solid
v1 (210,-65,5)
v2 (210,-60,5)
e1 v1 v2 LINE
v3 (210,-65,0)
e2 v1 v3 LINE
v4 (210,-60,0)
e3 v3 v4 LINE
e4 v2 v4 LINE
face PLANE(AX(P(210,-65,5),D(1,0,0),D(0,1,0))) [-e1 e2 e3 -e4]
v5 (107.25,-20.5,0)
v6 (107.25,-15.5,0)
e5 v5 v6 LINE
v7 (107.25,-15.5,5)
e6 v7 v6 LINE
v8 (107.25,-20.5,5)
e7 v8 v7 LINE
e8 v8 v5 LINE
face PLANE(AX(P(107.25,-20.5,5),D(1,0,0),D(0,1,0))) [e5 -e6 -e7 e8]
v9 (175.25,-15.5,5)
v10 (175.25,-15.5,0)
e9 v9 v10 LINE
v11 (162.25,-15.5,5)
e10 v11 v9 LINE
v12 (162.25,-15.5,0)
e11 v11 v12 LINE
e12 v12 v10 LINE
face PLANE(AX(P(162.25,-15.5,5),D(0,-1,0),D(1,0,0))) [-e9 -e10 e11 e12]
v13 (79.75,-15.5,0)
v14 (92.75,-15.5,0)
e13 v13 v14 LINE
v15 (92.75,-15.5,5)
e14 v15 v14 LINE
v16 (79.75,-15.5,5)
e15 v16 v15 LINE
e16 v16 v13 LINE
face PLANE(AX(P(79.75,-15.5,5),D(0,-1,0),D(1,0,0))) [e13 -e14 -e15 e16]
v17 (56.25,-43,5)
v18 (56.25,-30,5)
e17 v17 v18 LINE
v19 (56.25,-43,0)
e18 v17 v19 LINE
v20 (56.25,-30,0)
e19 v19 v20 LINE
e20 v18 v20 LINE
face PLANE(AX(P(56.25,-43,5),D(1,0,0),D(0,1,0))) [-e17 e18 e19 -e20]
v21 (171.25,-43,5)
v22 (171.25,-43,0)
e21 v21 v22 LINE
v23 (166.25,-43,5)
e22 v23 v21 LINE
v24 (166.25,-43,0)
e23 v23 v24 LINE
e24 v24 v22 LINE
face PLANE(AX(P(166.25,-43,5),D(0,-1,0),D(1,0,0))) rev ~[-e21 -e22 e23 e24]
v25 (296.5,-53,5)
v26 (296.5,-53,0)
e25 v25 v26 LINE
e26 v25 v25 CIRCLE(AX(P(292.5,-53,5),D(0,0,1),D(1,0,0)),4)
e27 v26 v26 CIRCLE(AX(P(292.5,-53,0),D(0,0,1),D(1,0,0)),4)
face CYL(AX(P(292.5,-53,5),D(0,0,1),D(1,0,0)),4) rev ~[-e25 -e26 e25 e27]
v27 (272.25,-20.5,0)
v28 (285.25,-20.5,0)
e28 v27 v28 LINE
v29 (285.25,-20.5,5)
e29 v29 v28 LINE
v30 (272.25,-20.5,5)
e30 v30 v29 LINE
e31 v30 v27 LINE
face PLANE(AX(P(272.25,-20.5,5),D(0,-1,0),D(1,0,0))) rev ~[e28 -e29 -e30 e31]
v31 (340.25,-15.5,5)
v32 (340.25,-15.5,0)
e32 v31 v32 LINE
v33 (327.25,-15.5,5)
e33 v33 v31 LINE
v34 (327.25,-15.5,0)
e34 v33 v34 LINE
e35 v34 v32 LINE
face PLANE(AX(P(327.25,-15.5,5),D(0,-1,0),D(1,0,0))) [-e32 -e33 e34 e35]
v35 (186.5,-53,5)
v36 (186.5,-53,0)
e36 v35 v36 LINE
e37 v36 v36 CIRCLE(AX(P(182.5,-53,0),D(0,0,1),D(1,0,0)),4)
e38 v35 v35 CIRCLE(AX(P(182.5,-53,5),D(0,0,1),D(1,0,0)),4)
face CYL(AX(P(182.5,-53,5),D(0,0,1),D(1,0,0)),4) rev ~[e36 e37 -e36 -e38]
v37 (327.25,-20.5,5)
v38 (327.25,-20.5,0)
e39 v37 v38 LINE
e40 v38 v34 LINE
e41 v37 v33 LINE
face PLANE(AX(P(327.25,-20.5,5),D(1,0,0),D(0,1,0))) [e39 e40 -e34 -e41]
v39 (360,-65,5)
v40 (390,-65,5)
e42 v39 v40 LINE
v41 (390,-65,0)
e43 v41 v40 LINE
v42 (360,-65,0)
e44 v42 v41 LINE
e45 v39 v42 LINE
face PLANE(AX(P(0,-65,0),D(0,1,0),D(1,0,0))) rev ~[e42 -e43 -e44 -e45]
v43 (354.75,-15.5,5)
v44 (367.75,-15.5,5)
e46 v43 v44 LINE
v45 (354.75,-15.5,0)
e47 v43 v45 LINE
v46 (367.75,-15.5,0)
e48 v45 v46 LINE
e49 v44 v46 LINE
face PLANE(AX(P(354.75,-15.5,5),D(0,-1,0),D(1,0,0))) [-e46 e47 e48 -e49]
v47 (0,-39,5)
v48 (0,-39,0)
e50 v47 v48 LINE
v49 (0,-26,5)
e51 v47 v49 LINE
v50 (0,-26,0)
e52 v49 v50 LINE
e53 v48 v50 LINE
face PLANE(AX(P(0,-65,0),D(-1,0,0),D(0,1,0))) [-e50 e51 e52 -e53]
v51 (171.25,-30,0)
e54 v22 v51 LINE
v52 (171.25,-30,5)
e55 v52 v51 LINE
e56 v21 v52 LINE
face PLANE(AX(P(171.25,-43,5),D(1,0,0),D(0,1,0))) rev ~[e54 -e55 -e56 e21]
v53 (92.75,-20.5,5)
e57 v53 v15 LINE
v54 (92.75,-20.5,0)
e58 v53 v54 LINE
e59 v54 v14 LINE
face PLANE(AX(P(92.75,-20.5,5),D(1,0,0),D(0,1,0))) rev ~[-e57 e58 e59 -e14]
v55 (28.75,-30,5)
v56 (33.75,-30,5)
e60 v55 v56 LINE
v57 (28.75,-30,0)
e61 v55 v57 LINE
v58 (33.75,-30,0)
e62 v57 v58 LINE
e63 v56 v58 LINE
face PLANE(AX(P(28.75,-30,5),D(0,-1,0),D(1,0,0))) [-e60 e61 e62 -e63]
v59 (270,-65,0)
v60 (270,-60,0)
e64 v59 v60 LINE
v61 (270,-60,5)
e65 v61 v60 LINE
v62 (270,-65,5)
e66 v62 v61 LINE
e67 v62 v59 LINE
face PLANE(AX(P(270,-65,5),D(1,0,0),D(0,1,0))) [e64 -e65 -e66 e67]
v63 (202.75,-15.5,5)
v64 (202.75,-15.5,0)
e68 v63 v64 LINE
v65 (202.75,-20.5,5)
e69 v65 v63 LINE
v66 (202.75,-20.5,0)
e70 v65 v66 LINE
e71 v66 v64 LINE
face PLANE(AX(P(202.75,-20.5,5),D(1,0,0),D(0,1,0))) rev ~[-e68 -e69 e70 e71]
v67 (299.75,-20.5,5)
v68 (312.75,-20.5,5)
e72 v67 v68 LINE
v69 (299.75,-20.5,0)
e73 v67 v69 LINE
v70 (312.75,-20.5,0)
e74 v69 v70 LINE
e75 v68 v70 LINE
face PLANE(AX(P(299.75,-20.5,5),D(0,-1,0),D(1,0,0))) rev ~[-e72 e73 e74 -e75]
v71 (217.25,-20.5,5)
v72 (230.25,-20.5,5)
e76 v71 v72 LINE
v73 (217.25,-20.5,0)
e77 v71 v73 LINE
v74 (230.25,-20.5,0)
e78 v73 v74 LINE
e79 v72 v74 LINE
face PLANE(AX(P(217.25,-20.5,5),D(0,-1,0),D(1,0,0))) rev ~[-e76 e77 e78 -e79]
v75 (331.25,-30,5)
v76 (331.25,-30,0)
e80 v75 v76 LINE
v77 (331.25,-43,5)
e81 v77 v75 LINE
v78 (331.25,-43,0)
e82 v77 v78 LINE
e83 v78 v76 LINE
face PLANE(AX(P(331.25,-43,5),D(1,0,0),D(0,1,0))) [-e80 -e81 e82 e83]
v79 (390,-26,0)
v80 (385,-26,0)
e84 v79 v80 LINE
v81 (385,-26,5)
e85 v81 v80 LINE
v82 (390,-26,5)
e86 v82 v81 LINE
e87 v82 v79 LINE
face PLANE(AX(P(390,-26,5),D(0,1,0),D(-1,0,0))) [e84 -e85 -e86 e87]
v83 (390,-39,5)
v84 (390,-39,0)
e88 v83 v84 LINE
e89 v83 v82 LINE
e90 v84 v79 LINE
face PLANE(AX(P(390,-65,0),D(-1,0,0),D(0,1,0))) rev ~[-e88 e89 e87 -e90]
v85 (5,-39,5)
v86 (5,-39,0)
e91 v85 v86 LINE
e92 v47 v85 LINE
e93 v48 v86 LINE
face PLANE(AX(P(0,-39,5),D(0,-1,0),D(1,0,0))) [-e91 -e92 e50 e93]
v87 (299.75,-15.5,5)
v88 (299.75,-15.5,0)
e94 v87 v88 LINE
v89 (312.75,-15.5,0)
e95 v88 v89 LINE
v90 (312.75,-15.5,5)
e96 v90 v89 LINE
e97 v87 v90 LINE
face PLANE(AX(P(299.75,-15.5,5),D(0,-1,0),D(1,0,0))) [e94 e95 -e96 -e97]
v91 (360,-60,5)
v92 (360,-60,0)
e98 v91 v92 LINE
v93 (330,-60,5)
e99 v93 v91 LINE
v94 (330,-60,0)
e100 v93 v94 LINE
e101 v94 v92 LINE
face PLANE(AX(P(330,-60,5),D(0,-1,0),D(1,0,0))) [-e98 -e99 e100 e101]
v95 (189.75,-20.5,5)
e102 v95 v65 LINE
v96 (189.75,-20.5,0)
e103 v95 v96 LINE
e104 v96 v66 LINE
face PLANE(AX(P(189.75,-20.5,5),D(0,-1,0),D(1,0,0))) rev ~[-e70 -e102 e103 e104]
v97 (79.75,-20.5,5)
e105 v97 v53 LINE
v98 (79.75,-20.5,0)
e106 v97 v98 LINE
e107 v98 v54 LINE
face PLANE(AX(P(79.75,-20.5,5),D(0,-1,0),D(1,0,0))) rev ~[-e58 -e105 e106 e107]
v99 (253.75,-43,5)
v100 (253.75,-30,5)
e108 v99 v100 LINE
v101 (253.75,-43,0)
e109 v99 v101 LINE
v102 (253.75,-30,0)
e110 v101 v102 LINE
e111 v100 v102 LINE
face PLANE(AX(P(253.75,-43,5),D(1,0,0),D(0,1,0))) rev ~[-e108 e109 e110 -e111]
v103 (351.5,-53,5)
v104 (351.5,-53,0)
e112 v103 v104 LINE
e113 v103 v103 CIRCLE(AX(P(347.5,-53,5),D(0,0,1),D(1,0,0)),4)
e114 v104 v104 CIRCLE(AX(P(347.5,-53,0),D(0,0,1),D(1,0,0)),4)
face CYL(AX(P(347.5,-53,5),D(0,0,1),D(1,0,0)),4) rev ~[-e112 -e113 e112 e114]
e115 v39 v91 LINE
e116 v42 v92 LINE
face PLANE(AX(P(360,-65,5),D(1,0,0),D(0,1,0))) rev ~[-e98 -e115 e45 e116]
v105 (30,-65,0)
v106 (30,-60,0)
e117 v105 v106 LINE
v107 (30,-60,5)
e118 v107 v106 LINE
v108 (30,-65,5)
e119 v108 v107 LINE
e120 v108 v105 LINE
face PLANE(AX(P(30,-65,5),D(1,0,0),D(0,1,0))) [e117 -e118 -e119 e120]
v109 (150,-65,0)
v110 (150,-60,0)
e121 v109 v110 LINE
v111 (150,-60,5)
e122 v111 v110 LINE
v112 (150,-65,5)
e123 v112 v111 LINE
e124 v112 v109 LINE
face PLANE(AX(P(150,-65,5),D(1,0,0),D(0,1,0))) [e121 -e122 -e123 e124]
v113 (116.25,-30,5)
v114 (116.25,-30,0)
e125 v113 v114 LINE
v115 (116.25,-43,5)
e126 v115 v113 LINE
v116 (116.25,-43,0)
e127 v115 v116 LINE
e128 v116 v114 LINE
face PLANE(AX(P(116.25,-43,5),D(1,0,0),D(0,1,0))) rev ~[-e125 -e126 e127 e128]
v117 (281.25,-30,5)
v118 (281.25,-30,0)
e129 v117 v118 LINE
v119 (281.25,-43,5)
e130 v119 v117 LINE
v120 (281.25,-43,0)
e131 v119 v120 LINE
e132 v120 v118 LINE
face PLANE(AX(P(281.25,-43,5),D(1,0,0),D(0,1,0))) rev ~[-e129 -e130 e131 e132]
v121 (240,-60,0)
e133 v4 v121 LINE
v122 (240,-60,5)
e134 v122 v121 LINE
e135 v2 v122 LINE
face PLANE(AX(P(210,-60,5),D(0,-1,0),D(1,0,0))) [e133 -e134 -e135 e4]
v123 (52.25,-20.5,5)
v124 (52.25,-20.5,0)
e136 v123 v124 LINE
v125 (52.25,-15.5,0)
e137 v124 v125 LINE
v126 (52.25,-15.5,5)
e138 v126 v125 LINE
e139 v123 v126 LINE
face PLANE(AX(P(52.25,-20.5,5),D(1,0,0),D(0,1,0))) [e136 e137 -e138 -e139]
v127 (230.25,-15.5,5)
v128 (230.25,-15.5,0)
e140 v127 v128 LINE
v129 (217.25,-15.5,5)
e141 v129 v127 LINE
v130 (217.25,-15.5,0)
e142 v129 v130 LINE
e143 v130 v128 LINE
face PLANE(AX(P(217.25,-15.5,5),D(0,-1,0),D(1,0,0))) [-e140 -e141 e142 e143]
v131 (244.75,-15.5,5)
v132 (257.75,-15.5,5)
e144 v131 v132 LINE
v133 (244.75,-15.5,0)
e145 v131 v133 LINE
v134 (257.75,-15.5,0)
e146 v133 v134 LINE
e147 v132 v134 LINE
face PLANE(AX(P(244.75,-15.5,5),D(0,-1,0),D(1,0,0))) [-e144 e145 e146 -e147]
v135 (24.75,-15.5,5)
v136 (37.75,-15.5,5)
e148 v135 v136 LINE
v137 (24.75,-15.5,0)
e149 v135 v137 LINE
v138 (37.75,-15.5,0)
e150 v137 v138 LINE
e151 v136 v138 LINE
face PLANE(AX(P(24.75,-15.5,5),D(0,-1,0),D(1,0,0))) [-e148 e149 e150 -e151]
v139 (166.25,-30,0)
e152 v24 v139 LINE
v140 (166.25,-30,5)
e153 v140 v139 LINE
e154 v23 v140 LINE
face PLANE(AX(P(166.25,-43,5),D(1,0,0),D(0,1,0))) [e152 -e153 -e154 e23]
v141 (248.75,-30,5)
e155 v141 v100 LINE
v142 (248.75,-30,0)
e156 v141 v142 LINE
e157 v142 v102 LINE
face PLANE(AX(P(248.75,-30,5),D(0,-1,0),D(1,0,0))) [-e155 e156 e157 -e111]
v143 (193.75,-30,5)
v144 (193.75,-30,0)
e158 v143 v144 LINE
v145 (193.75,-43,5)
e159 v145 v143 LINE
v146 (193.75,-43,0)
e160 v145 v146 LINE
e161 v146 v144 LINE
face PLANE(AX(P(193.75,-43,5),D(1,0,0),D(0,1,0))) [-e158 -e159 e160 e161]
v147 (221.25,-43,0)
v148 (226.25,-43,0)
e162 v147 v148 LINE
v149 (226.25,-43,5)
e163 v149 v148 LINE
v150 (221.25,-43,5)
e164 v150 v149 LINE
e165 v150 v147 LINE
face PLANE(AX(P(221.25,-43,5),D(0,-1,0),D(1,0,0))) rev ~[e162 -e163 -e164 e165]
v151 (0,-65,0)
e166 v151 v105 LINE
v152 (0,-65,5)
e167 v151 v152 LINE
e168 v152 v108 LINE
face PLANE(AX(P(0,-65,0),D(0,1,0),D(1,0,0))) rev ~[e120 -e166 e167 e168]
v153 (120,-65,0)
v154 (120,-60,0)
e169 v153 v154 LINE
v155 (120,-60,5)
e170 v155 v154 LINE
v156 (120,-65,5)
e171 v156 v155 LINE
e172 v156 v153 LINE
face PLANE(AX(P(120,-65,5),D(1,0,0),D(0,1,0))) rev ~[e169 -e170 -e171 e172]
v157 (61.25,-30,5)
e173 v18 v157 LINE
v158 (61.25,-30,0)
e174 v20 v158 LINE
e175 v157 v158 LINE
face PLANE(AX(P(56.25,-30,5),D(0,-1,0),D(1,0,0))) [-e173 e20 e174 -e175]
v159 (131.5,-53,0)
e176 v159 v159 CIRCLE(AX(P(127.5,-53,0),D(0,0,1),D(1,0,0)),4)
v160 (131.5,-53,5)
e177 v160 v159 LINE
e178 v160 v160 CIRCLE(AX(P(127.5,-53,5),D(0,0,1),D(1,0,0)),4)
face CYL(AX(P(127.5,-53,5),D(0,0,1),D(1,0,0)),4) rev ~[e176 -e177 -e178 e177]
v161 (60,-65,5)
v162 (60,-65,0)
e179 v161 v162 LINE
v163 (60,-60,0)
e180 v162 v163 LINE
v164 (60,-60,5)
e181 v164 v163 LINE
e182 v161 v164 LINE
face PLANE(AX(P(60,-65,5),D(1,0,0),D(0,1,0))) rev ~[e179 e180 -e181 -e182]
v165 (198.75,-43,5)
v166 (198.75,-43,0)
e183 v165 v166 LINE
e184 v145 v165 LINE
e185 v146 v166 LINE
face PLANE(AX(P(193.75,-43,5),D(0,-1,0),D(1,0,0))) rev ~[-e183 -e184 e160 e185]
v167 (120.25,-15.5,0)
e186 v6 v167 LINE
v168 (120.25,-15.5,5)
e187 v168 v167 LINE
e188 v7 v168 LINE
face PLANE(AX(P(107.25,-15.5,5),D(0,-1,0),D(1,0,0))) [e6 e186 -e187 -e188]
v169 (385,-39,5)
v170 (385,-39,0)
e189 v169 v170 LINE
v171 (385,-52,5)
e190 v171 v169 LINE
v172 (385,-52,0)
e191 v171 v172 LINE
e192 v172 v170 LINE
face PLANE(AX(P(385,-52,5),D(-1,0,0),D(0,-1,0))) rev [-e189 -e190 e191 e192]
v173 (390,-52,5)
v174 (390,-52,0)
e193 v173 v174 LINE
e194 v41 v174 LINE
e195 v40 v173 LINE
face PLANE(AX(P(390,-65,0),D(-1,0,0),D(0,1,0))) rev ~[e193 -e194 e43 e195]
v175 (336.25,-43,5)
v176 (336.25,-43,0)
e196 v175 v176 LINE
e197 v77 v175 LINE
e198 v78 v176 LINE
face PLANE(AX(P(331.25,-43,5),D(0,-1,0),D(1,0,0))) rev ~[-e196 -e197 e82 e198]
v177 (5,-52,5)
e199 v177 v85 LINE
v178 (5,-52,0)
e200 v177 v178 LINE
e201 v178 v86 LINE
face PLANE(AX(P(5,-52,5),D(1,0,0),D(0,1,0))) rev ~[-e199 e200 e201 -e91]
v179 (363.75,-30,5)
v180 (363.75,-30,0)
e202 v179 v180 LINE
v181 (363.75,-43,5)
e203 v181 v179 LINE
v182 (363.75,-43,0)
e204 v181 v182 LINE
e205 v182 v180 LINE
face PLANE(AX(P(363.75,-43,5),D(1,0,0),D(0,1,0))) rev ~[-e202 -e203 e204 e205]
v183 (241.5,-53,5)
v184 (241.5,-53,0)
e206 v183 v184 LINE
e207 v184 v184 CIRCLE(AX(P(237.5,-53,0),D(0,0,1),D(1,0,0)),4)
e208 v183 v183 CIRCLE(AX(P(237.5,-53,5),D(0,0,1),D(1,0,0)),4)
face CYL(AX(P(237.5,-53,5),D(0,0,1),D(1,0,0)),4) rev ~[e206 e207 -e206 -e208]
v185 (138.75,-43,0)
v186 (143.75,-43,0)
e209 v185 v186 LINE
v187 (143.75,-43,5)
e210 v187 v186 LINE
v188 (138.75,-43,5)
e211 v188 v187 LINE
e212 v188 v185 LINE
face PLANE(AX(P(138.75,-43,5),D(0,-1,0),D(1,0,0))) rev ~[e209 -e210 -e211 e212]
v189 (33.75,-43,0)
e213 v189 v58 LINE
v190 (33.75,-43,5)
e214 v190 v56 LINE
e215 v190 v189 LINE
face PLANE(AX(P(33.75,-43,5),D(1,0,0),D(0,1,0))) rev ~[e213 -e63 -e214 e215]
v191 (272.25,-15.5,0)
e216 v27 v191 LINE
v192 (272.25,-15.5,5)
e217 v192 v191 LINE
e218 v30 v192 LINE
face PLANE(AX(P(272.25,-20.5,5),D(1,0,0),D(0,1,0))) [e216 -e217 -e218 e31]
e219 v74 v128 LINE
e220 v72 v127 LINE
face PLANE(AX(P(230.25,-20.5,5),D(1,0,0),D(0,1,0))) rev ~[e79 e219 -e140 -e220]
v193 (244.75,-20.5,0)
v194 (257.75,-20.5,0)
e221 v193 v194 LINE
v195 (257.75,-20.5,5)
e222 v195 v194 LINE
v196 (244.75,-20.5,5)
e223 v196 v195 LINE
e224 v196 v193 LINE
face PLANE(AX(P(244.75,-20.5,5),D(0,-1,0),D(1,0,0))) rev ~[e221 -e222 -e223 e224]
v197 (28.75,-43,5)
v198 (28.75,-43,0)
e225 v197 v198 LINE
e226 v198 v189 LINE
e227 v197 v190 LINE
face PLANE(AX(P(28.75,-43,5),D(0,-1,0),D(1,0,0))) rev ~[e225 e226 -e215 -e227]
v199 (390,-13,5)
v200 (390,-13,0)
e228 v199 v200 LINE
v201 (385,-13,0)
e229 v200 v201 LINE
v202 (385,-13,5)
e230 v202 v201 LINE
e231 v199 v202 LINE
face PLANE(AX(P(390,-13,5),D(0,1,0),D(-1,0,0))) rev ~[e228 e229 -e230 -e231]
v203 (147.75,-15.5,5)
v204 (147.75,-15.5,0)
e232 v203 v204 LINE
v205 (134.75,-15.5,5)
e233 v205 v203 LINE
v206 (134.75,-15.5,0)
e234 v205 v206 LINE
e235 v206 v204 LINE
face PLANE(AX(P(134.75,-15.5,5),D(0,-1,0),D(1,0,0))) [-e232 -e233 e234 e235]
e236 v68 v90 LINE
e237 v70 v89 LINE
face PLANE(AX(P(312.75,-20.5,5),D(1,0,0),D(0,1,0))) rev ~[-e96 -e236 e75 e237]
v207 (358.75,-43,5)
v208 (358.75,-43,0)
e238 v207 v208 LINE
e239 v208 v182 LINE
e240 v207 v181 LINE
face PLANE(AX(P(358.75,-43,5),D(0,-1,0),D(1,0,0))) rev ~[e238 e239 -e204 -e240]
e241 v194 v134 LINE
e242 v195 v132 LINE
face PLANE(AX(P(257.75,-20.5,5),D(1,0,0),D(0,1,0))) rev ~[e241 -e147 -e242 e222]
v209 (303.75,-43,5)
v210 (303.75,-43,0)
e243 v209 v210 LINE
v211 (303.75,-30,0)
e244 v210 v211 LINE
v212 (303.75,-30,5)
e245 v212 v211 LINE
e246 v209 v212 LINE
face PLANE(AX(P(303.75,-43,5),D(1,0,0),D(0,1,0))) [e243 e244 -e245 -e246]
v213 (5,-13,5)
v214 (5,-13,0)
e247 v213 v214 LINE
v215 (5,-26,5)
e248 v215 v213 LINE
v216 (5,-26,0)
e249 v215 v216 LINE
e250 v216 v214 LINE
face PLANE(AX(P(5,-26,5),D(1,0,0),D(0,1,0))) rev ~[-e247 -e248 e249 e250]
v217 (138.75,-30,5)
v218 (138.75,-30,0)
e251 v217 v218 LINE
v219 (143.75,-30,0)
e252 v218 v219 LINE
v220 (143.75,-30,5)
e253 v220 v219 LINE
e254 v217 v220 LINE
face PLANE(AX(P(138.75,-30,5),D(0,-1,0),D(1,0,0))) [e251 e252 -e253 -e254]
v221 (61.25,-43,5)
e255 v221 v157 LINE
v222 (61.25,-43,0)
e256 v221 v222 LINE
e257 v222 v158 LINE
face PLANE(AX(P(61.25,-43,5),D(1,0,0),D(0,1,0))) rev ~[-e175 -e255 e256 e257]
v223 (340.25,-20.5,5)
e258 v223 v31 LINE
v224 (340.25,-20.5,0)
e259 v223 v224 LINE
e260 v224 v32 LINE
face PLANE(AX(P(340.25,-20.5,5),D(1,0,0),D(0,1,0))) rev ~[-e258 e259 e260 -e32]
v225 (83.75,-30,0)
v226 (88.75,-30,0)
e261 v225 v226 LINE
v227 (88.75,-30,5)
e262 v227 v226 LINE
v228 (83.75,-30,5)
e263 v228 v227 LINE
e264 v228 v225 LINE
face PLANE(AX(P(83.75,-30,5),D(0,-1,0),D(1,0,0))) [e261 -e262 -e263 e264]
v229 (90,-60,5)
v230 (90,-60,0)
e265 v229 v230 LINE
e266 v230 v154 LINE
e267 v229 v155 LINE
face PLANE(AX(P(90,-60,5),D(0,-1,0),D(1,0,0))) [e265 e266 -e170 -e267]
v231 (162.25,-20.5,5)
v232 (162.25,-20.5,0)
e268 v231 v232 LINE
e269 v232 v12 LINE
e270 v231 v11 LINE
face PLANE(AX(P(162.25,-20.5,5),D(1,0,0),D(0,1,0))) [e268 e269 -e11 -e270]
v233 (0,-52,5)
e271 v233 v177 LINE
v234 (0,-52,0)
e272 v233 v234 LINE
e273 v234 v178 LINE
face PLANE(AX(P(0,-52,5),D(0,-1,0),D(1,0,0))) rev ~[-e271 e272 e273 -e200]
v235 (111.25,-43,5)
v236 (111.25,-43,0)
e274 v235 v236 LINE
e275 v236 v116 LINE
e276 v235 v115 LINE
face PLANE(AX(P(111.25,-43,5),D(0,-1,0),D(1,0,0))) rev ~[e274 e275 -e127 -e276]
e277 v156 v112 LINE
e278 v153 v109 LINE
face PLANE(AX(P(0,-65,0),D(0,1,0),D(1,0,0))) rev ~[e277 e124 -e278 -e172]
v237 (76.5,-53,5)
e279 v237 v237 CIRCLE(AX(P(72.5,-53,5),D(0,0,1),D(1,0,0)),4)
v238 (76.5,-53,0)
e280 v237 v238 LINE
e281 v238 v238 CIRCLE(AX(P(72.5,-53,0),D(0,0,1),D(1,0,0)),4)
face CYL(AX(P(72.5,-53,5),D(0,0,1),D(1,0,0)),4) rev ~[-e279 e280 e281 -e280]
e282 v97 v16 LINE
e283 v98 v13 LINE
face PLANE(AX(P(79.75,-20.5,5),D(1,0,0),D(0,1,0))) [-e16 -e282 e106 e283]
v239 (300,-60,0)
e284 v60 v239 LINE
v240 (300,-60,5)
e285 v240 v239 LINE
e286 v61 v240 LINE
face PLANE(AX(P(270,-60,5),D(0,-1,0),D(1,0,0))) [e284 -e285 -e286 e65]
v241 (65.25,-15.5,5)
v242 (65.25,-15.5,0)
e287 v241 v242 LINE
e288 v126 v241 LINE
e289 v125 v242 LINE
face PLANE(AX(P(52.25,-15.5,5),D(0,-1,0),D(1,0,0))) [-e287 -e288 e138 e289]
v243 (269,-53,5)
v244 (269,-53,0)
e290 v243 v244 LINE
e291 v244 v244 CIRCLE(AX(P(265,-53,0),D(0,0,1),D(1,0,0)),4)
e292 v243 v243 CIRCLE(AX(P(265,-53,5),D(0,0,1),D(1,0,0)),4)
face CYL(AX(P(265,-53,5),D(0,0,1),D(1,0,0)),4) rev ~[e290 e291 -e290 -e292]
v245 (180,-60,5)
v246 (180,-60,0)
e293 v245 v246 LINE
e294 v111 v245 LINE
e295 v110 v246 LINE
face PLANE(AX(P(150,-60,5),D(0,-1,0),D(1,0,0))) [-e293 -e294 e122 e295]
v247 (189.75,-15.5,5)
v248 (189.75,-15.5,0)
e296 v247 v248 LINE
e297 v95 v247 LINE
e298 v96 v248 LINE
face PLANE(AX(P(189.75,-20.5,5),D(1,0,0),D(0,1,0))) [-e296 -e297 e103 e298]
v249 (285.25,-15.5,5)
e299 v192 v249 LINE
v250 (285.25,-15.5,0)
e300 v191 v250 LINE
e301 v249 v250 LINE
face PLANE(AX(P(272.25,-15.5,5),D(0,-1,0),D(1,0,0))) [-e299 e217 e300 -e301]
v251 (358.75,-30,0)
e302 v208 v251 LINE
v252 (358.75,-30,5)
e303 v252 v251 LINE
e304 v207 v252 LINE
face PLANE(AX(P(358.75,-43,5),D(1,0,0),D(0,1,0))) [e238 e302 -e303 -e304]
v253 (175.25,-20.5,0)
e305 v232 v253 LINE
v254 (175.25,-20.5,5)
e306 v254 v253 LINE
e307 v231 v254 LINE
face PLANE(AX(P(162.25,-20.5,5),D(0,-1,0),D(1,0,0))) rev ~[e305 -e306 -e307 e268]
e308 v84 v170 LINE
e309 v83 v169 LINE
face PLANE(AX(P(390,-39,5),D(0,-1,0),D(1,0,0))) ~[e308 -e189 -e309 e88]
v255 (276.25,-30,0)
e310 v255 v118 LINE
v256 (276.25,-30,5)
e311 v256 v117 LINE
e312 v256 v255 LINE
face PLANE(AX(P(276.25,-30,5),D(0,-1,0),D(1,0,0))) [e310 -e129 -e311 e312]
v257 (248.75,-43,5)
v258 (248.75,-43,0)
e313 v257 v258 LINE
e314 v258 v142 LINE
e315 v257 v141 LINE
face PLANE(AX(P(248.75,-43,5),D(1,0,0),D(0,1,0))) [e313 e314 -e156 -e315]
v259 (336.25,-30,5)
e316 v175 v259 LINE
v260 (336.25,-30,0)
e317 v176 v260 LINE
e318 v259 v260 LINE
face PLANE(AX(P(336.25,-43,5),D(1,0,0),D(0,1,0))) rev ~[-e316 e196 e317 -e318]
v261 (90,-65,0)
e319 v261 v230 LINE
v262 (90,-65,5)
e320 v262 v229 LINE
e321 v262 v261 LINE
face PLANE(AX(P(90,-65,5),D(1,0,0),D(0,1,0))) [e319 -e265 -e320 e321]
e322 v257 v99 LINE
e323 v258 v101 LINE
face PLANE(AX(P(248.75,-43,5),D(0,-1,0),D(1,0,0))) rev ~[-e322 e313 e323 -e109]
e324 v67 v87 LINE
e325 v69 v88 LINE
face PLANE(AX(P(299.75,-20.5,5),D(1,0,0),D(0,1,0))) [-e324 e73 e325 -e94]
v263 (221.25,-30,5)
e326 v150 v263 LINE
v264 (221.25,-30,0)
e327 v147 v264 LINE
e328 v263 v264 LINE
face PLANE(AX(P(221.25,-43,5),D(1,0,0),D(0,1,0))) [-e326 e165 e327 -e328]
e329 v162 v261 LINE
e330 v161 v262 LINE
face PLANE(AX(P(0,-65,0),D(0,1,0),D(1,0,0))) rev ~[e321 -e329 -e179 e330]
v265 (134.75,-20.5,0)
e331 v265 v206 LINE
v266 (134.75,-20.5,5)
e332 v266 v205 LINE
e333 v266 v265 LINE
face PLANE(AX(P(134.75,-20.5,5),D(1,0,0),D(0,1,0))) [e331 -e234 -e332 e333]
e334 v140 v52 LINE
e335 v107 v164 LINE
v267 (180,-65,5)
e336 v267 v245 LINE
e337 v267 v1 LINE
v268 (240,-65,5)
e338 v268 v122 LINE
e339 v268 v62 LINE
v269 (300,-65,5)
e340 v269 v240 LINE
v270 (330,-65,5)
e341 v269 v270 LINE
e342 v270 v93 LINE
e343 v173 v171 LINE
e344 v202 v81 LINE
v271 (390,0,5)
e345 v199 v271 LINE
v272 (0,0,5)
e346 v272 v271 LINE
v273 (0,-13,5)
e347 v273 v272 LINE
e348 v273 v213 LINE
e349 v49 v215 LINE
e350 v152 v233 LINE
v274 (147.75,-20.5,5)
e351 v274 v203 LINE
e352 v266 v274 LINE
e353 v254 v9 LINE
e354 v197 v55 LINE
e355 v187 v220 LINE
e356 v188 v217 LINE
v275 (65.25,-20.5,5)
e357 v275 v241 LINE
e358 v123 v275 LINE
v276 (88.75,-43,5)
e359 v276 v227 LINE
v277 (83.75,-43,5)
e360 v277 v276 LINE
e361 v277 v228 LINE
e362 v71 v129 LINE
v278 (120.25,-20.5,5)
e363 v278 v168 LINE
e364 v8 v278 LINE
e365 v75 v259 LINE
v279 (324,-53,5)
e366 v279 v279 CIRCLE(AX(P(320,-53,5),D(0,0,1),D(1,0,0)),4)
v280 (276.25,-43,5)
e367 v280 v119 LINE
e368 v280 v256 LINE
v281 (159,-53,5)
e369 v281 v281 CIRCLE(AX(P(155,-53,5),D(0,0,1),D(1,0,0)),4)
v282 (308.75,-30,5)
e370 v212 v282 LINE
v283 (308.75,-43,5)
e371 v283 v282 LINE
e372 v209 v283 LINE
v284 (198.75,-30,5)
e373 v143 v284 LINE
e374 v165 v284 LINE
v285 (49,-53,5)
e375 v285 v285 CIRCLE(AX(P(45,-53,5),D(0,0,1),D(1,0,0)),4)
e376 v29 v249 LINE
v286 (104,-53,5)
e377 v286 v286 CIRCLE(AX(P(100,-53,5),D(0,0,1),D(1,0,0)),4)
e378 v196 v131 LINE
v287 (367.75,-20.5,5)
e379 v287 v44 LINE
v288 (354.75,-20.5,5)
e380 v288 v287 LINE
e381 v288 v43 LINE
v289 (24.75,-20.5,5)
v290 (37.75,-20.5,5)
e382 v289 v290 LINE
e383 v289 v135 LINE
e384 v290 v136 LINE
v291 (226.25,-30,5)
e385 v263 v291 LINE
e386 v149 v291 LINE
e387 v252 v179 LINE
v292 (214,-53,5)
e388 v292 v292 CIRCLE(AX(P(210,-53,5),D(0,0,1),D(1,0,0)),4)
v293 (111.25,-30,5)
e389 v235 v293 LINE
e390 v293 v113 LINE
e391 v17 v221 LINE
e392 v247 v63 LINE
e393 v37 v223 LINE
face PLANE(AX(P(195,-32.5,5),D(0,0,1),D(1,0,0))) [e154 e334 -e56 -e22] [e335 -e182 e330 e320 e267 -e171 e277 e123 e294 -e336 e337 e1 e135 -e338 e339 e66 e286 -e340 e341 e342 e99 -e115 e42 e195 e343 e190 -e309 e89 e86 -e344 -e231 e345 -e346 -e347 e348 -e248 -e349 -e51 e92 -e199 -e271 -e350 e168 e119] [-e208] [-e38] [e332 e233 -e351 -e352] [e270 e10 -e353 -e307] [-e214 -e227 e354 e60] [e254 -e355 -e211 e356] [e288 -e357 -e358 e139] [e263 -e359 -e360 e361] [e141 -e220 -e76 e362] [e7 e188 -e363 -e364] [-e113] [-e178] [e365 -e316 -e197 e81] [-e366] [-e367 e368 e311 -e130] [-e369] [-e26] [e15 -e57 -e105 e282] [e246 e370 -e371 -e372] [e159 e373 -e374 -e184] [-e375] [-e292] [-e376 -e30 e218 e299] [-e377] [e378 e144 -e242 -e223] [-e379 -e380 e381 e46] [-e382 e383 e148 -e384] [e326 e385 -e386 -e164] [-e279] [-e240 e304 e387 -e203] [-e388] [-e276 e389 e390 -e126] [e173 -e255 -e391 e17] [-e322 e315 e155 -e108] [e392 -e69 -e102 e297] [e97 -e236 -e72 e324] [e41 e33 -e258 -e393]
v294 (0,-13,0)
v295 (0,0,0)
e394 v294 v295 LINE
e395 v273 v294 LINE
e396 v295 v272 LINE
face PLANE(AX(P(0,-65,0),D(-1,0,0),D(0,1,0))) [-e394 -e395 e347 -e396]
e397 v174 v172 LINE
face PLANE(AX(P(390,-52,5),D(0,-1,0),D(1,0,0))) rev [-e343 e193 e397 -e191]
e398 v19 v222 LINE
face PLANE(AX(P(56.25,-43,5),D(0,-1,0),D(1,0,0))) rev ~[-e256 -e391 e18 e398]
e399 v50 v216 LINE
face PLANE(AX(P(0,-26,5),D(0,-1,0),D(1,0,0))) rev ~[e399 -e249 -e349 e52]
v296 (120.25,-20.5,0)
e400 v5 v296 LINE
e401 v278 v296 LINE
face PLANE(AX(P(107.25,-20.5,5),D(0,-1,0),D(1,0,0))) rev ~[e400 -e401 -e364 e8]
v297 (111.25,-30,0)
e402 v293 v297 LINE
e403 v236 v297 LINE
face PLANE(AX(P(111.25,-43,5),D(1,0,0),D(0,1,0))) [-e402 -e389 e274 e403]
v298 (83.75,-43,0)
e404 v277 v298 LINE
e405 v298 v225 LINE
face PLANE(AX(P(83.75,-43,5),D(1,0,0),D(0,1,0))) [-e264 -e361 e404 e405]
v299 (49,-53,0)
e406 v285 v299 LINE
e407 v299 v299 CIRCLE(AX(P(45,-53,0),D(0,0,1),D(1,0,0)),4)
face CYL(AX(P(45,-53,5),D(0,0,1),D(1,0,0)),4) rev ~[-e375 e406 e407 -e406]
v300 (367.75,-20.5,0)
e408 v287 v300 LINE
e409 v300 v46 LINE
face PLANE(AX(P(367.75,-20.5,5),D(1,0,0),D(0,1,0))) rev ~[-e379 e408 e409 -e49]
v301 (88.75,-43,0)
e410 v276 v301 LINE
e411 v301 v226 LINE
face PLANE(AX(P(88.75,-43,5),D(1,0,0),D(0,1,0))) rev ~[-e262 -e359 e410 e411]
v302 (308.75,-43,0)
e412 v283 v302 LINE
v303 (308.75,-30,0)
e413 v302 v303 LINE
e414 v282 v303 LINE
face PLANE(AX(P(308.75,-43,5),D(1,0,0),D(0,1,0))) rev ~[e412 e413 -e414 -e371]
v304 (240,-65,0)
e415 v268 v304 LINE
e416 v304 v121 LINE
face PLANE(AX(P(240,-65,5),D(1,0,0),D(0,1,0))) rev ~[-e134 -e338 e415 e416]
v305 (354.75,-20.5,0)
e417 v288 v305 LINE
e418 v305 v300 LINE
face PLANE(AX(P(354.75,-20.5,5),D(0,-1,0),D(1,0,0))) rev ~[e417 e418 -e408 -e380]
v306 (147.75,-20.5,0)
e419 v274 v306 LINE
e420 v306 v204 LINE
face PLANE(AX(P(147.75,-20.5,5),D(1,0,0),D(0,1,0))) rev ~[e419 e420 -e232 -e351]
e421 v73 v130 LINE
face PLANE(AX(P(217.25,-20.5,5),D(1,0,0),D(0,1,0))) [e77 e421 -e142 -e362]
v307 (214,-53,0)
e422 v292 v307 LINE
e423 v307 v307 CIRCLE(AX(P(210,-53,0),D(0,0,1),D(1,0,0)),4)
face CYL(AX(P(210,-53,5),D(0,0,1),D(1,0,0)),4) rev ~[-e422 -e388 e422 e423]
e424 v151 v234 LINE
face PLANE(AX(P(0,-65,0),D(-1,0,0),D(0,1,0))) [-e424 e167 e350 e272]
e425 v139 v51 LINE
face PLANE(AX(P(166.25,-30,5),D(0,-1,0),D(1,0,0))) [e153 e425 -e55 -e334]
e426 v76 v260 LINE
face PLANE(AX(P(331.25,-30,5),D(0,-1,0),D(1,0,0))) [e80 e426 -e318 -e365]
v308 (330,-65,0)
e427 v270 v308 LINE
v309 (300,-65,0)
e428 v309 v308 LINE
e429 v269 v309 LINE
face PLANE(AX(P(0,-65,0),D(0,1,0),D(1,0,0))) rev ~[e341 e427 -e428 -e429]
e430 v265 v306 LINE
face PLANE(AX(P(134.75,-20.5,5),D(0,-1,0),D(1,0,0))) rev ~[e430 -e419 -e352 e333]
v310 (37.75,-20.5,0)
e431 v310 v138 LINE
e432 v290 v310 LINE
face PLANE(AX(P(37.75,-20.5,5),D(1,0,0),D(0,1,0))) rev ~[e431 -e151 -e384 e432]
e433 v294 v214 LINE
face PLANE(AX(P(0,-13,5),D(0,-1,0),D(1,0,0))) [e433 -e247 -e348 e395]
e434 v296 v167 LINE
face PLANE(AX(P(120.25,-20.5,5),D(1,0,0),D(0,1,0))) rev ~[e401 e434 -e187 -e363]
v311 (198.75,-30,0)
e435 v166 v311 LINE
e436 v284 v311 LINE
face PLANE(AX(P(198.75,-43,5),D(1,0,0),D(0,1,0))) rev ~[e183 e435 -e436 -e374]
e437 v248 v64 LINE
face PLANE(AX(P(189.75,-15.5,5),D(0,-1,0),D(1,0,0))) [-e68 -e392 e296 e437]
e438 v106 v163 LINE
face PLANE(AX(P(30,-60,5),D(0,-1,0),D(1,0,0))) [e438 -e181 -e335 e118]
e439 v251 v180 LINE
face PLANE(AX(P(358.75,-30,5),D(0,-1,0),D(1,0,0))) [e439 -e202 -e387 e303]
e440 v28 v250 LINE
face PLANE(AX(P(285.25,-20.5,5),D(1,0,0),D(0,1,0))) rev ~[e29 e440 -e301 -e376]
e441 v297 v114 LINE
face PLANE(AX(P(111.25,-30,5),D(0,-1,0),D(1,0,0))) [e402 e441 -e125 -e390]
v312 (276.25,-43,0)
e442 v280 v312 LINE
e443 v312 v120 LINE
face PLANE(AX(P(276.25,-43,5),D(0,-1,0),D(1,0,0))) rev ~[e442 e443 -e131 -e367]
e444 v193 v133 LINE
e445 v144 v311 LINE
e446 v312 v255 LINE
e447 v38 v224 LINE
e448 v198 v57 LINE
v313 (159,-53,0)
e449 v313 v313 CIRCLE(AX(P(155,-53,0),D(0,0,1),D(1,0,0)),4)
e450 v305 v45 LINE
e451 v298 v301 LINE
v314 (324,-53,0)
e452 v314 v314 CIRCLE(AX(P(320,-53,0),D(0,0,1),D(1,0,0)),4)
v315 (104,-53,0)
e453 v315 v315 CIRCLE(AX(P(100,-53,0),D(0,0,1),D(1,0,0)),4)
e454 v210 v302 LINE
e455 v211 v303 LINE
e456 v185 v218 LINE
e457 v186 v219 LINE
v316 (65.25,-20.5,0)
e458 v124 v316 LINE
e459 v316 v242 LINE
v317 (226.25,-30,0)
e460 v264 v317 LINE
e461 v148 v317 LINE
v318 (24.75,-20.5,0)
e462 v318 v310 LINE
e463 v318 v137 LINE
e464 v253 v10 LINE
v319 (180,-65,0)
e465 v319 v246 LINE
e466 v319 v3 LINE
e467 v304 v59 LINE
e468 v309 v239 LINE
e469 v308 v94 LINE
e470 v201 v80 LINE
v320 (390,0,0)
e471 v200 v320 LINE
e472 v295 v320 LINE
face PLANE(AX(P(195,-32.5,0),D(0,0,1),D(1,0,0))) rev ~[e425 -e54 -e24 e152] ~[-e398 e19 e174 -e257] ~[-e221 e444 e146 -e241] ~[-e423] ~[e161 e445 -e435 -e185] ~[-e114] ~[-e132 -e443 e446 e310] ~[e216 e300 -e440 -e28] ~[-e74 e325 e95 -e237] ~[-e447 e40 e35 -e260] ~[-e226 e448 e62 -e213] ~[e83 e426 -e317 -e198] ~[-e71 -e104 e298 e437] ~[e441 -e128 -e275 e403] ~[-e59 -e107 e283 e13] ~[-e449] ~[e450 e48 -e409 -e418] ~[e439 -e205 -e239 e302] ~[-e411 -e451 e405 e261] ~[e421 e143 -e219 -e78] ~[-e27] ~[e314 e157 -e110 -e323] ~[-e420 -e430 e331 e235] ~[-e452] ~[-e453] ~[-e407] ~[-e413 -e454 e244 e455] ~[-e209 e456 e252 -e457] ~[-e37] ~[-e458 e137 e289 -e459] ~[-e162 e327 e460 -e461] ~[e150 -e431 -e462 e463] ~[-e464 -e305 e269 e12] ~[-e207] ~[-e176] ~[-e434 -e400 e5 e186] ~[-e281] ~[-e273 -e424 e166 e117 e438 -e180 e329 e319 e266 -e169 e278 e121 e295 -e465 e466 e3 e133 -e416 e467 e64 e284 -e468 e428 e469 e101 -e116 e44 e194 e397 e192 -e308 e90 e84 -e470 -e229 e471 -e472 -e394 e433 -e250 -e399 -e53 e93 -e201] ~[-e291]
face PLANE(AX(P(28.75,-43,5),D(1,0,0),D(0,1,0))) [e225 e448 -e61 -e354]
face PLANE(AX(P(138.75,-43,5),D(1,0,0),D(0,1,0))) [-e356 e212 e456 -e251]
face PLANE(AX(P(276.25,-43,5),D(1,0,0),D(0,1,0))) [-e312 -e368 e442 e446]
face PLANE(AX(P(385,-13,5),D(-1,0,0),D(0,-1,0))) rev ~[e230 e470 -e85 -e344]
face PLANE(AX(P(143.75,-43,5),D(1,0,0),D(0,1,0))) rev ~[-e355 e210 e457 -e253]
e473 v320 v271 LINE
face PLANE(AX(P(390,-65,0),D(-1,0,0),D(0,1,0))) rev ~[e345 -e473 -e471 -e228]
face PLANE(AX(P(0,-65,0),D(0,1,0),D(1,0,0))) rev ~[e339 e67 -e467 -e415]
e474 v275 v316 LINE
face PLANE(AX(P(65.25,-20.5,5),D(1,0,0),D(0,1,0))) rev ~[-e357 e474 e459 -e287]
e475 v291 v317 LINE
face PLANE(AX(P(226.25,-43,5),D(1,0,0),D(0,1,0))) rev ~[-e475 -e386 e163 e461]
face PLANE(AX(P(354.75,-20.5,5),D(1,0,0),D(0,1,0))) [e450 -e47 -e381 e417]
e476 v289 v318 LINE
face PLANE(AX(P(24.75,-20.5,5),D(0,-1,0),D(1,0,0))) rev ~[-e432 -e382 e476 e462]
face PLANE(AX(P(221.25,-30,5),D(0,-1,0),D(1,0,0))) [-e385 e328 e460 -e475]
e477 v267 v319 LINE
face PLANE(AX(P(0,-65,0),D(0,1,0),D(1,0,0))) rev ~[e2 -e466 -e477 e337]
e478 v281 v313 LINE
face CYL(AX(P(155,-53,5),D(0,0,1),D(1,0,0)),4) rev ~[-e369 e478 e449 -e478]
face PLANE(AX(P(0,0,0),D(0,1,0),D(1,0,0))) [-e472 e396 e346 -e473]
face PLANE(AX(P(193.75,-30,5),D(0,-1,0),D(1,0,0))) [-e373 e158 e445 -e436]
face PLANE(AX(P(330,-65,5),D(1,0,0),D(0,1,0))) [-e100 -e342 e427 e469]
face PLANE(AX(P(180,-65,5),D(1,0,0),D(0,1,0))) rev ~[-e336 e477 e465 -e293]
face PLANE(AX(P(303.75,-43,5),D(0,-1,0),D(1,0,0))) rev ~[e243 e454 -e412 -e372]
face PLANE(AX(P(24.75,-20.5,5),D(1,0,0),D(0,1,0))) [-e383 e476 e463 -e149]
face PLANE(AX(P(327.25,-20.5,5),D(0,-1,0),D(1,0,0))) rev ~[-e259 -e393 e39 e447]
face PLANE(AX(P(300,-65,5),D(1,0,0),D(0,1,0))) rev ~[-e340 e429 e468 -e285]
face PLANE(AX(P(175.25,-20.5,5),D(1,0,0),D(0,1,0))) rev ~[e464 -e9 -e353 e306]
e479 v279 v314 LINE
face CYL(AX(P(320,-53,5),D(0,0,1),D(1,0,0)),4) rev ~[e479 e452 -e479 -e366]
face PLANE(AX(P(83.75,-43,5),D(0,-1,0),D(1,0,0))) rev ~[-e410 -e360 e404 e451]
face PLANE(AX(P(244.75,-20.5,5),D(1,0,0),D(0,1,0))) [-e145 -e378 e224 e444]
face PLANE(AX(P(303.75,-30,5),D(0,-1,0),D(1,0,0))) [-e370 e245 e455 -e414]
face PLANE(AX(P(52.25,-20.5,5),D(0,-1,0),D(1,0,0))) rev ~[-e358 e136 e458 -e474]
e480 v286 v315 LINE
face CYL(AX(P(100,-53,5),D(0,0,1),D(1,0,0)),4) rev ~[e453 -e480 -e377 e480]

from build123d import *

# Parameters (mm, degrees)
ESQUISSE1_W                    = 390
ESQUISSE1_H                    = 65
BOSS_EXTRU_1_DEPTH             = 5
ESQUISSE2_W                    = 30
ESQUISSE2_H                    = 5
ENL_V_MAT_EXTRU_1_DEPTH        = 5
R_P_TITION_LIN_AIRE1_COUNT     = 6
R_P_TITION_LIN_AIRE1_PITCH     = 60
ESQUISSE3_W                    = 5
ESQUISSE3_H                    = 13
ENL_V_MAT_EXTRU_2_DEPTH        = 5
R_P_TITION_LIN_AIRE2_COUNT     = 2
R_P_TITION_LIN_AIRE2_PITCH     = 26
SYM_TRIE1_COPY_1_SKETCH_W      = 5
SYM_TRIE1_COPY_1_SKETCH_H      = 13
SYM_TRIE1_COPY_1_DEPTH         = 5
ESQUISSE4_R                    = 4
ENL_V_MAT_EXTRU_3_DEPTH        = 5
R_P_TITION_LIN_AIRE3_COUNT     = 10
R_P_TITION_LIN_AIRE3_PITCH     = 27.5
R_P_TITION_LIN_AIRE3_COL_COUNT = 3
R_P_TITION_LIN_AIRE3_COL_PITCH = 27.5
ESQUISSE5_W                    = 5
ESQUISSE5_H                    = 13
ESQUISSE5_W_2                  = 13
ESQUISSE5_H_2                  = 5
ENL_V_MAT_EXTRU_4_DEPTH        = 5
R_P_TITION_LIN_AIRE4_COUNT     = 3
R_P_TITION_LIN_AIRE4_PITCH     = 27.5
R_P_TITION_LIN_AIRE4_COL_COUNT = 11
R_P_TITION_LIN_AIRE4_COL_PITCH = 27.5


with BuildPart() as part:
    # Esquisse1 → Boss.-Extru.1 (new body)
    with BuildSketch(Plane.XY):
        with Locations((195, -32.5)):
            Rectangle(ESQUISSE1_W, ESQUISSE1_H)
    extrude(amount=BOSS_EXTRU_1_DEPTH)

    # Esquisse2 → Enlèv. mat.-Extru.1 (cut)
    with BuildSketch(Plane.XY.offset(5)):
        with Locations((45, -62.5)):
            Rectangle(ESQUISSE2_W, ESQUISSE2_H)
    enl_v_mat_extru_1 = extrude(amount=-ENL_V_MAT_EXTRU_1_DEPTH, mode=Mode.SUBTRACT)

    # Répétition linéaire1: Enlèv. mat.-Extru.1 ×6
    with Locations(*[(i * R_P_TITION_LIN_AIRE1_PITCH, 0, 0) for i in range(1, R_P_TITION_LIN_AIRE1_COUNT)]):
        add(enl_v_mat_extru_1, mode=Mode.SUBTRACT)

    # Esquisse3 → Enlèv. mat.-Extru.2 (cut)
    with BuildSketch(Plane.XY.offset(5)):
        with Locations((2.5, -45.5)):
            Rectangle(ESQUISSE3_W, ESQUISSE3_H)
    enl_v_mat_extru_2 = extrude(amount=-ENL_V_MAT_EXTRU_2_DEPTH, mode=Mode.SUBTRACT)

    # Répétition linéaire2: Enlèv. mat.-Extru.2 ×2
    with Locations(*[(0, i * R_P_TITION_LIN_AIRE2_PITCH, 0) for i in range(1, R_P_TITION_LIN_AIRE2_COUNT)]):
        add(enl_v_mat_extru_2, mode=Mode.SUBTRACT)

    # Symétrie1: Enlèv. mat.-Extru.2 across plane
    add(enl_v_mat_extru_2.mirror(Plane.ZY.offset(-195)), mode=Mode.SUBTRACT)

    # Symétrie1 copy 1 sketch → Symétrie1 copy 1 (cut)
    with BuildSketch(Plane(origin=(390, 26, 5), x_dir=(-1, 0, 0), z_dir=(0, 0, 1))):
        with Locations((2.5, 45.5)):
            Rectangle(SYM_TRIE1_COPY_1_SKETCH_W, SYM_TRIE1_COPY_1_SKETCH_H)
    extrude(amount=-SYM_TRIE1_COPY_1_DEPTH, mode=Mode.SUBTRACT)

    # Esquisse4 → Enlèv. mat.-Extru.3 (cut)
    with BuildSketch(Plane.XY.offset(5)):
        with Locations((100, -53)):
            Circle(ESQUISSE4_R)
    enl_v_mat_extru_3 = extrude(amount=-ENL_V_MAT_EXTRU_3_DEPTH, mode=Mode.SUBTRACT)

    # Répétition linéaire3: Enlèv. mat.-Extru.3 ×10
    with Locations(*[(i * R_P_TITION_LIN_AIRE3_PITCH, 0, 0) for i in range(1, R_P_TITION_LIN_AIRE3_COUNT)]):
        add(enl_v_mat_extru_3, mode=Mode.SUBTRACT)

    # Répétition linéaire3 col: Enlèv. mat.-Extru.3 ×3
    with Locations(*[(-i * R_P_TITION_LIN_AIRE3_COL_PITCH, 0, 0) for i in range(1, R_P_TITION_LIN_AIRE3_COL_COUNT)]):
        add(enl_v_mat_extru_3, mode=Mode.SUBTRACT)

    # Esquisse5 → Enlèv. mat.-Extru.4 (cut)
    with BuildSketch(Plane.XY.offset(5)):
        with Locations((86.25, -36.5)):
            Rectangle(ESQUISSE5_W, ESQUISSE5_H)
        with Locations((86.25, -18)):
            Rectangle(ESQUISSE5_W_2, ESQUISSE5_H_2)
    enl_v_mat_extru_4 = extrude(amount=-ENL_V_MAT_EXTRU_4_DEPTH, mode=Mode.SUBTRACT)

    # Répétition linéaire4: Enlèv. mat.-Extru.4 ×3
    with Locations(*[(-i * R_P_TITION_LIN_AIRE4_PITCH, 0, 0) for i in range(1, R_P_TITION_LIN_AIRE4_COUNT)]):
        add(enl_v_mat_extru_4, mode=Mode.SUBTRACT)

    # Répétition linéaire4 col: Enlèv. mat.-Extru.4 ×11
    with Locations(*[(i * R_P_TITION_LIN_AIRE4_COL_PITCH, 0, 0) for i in range(1, R_P_TITION_LIN_AIRE4_COL_COUNT)]):
        add(enl_v_mat_extru_4, mode=Mode.SUBTRACT)


solid = part.part
